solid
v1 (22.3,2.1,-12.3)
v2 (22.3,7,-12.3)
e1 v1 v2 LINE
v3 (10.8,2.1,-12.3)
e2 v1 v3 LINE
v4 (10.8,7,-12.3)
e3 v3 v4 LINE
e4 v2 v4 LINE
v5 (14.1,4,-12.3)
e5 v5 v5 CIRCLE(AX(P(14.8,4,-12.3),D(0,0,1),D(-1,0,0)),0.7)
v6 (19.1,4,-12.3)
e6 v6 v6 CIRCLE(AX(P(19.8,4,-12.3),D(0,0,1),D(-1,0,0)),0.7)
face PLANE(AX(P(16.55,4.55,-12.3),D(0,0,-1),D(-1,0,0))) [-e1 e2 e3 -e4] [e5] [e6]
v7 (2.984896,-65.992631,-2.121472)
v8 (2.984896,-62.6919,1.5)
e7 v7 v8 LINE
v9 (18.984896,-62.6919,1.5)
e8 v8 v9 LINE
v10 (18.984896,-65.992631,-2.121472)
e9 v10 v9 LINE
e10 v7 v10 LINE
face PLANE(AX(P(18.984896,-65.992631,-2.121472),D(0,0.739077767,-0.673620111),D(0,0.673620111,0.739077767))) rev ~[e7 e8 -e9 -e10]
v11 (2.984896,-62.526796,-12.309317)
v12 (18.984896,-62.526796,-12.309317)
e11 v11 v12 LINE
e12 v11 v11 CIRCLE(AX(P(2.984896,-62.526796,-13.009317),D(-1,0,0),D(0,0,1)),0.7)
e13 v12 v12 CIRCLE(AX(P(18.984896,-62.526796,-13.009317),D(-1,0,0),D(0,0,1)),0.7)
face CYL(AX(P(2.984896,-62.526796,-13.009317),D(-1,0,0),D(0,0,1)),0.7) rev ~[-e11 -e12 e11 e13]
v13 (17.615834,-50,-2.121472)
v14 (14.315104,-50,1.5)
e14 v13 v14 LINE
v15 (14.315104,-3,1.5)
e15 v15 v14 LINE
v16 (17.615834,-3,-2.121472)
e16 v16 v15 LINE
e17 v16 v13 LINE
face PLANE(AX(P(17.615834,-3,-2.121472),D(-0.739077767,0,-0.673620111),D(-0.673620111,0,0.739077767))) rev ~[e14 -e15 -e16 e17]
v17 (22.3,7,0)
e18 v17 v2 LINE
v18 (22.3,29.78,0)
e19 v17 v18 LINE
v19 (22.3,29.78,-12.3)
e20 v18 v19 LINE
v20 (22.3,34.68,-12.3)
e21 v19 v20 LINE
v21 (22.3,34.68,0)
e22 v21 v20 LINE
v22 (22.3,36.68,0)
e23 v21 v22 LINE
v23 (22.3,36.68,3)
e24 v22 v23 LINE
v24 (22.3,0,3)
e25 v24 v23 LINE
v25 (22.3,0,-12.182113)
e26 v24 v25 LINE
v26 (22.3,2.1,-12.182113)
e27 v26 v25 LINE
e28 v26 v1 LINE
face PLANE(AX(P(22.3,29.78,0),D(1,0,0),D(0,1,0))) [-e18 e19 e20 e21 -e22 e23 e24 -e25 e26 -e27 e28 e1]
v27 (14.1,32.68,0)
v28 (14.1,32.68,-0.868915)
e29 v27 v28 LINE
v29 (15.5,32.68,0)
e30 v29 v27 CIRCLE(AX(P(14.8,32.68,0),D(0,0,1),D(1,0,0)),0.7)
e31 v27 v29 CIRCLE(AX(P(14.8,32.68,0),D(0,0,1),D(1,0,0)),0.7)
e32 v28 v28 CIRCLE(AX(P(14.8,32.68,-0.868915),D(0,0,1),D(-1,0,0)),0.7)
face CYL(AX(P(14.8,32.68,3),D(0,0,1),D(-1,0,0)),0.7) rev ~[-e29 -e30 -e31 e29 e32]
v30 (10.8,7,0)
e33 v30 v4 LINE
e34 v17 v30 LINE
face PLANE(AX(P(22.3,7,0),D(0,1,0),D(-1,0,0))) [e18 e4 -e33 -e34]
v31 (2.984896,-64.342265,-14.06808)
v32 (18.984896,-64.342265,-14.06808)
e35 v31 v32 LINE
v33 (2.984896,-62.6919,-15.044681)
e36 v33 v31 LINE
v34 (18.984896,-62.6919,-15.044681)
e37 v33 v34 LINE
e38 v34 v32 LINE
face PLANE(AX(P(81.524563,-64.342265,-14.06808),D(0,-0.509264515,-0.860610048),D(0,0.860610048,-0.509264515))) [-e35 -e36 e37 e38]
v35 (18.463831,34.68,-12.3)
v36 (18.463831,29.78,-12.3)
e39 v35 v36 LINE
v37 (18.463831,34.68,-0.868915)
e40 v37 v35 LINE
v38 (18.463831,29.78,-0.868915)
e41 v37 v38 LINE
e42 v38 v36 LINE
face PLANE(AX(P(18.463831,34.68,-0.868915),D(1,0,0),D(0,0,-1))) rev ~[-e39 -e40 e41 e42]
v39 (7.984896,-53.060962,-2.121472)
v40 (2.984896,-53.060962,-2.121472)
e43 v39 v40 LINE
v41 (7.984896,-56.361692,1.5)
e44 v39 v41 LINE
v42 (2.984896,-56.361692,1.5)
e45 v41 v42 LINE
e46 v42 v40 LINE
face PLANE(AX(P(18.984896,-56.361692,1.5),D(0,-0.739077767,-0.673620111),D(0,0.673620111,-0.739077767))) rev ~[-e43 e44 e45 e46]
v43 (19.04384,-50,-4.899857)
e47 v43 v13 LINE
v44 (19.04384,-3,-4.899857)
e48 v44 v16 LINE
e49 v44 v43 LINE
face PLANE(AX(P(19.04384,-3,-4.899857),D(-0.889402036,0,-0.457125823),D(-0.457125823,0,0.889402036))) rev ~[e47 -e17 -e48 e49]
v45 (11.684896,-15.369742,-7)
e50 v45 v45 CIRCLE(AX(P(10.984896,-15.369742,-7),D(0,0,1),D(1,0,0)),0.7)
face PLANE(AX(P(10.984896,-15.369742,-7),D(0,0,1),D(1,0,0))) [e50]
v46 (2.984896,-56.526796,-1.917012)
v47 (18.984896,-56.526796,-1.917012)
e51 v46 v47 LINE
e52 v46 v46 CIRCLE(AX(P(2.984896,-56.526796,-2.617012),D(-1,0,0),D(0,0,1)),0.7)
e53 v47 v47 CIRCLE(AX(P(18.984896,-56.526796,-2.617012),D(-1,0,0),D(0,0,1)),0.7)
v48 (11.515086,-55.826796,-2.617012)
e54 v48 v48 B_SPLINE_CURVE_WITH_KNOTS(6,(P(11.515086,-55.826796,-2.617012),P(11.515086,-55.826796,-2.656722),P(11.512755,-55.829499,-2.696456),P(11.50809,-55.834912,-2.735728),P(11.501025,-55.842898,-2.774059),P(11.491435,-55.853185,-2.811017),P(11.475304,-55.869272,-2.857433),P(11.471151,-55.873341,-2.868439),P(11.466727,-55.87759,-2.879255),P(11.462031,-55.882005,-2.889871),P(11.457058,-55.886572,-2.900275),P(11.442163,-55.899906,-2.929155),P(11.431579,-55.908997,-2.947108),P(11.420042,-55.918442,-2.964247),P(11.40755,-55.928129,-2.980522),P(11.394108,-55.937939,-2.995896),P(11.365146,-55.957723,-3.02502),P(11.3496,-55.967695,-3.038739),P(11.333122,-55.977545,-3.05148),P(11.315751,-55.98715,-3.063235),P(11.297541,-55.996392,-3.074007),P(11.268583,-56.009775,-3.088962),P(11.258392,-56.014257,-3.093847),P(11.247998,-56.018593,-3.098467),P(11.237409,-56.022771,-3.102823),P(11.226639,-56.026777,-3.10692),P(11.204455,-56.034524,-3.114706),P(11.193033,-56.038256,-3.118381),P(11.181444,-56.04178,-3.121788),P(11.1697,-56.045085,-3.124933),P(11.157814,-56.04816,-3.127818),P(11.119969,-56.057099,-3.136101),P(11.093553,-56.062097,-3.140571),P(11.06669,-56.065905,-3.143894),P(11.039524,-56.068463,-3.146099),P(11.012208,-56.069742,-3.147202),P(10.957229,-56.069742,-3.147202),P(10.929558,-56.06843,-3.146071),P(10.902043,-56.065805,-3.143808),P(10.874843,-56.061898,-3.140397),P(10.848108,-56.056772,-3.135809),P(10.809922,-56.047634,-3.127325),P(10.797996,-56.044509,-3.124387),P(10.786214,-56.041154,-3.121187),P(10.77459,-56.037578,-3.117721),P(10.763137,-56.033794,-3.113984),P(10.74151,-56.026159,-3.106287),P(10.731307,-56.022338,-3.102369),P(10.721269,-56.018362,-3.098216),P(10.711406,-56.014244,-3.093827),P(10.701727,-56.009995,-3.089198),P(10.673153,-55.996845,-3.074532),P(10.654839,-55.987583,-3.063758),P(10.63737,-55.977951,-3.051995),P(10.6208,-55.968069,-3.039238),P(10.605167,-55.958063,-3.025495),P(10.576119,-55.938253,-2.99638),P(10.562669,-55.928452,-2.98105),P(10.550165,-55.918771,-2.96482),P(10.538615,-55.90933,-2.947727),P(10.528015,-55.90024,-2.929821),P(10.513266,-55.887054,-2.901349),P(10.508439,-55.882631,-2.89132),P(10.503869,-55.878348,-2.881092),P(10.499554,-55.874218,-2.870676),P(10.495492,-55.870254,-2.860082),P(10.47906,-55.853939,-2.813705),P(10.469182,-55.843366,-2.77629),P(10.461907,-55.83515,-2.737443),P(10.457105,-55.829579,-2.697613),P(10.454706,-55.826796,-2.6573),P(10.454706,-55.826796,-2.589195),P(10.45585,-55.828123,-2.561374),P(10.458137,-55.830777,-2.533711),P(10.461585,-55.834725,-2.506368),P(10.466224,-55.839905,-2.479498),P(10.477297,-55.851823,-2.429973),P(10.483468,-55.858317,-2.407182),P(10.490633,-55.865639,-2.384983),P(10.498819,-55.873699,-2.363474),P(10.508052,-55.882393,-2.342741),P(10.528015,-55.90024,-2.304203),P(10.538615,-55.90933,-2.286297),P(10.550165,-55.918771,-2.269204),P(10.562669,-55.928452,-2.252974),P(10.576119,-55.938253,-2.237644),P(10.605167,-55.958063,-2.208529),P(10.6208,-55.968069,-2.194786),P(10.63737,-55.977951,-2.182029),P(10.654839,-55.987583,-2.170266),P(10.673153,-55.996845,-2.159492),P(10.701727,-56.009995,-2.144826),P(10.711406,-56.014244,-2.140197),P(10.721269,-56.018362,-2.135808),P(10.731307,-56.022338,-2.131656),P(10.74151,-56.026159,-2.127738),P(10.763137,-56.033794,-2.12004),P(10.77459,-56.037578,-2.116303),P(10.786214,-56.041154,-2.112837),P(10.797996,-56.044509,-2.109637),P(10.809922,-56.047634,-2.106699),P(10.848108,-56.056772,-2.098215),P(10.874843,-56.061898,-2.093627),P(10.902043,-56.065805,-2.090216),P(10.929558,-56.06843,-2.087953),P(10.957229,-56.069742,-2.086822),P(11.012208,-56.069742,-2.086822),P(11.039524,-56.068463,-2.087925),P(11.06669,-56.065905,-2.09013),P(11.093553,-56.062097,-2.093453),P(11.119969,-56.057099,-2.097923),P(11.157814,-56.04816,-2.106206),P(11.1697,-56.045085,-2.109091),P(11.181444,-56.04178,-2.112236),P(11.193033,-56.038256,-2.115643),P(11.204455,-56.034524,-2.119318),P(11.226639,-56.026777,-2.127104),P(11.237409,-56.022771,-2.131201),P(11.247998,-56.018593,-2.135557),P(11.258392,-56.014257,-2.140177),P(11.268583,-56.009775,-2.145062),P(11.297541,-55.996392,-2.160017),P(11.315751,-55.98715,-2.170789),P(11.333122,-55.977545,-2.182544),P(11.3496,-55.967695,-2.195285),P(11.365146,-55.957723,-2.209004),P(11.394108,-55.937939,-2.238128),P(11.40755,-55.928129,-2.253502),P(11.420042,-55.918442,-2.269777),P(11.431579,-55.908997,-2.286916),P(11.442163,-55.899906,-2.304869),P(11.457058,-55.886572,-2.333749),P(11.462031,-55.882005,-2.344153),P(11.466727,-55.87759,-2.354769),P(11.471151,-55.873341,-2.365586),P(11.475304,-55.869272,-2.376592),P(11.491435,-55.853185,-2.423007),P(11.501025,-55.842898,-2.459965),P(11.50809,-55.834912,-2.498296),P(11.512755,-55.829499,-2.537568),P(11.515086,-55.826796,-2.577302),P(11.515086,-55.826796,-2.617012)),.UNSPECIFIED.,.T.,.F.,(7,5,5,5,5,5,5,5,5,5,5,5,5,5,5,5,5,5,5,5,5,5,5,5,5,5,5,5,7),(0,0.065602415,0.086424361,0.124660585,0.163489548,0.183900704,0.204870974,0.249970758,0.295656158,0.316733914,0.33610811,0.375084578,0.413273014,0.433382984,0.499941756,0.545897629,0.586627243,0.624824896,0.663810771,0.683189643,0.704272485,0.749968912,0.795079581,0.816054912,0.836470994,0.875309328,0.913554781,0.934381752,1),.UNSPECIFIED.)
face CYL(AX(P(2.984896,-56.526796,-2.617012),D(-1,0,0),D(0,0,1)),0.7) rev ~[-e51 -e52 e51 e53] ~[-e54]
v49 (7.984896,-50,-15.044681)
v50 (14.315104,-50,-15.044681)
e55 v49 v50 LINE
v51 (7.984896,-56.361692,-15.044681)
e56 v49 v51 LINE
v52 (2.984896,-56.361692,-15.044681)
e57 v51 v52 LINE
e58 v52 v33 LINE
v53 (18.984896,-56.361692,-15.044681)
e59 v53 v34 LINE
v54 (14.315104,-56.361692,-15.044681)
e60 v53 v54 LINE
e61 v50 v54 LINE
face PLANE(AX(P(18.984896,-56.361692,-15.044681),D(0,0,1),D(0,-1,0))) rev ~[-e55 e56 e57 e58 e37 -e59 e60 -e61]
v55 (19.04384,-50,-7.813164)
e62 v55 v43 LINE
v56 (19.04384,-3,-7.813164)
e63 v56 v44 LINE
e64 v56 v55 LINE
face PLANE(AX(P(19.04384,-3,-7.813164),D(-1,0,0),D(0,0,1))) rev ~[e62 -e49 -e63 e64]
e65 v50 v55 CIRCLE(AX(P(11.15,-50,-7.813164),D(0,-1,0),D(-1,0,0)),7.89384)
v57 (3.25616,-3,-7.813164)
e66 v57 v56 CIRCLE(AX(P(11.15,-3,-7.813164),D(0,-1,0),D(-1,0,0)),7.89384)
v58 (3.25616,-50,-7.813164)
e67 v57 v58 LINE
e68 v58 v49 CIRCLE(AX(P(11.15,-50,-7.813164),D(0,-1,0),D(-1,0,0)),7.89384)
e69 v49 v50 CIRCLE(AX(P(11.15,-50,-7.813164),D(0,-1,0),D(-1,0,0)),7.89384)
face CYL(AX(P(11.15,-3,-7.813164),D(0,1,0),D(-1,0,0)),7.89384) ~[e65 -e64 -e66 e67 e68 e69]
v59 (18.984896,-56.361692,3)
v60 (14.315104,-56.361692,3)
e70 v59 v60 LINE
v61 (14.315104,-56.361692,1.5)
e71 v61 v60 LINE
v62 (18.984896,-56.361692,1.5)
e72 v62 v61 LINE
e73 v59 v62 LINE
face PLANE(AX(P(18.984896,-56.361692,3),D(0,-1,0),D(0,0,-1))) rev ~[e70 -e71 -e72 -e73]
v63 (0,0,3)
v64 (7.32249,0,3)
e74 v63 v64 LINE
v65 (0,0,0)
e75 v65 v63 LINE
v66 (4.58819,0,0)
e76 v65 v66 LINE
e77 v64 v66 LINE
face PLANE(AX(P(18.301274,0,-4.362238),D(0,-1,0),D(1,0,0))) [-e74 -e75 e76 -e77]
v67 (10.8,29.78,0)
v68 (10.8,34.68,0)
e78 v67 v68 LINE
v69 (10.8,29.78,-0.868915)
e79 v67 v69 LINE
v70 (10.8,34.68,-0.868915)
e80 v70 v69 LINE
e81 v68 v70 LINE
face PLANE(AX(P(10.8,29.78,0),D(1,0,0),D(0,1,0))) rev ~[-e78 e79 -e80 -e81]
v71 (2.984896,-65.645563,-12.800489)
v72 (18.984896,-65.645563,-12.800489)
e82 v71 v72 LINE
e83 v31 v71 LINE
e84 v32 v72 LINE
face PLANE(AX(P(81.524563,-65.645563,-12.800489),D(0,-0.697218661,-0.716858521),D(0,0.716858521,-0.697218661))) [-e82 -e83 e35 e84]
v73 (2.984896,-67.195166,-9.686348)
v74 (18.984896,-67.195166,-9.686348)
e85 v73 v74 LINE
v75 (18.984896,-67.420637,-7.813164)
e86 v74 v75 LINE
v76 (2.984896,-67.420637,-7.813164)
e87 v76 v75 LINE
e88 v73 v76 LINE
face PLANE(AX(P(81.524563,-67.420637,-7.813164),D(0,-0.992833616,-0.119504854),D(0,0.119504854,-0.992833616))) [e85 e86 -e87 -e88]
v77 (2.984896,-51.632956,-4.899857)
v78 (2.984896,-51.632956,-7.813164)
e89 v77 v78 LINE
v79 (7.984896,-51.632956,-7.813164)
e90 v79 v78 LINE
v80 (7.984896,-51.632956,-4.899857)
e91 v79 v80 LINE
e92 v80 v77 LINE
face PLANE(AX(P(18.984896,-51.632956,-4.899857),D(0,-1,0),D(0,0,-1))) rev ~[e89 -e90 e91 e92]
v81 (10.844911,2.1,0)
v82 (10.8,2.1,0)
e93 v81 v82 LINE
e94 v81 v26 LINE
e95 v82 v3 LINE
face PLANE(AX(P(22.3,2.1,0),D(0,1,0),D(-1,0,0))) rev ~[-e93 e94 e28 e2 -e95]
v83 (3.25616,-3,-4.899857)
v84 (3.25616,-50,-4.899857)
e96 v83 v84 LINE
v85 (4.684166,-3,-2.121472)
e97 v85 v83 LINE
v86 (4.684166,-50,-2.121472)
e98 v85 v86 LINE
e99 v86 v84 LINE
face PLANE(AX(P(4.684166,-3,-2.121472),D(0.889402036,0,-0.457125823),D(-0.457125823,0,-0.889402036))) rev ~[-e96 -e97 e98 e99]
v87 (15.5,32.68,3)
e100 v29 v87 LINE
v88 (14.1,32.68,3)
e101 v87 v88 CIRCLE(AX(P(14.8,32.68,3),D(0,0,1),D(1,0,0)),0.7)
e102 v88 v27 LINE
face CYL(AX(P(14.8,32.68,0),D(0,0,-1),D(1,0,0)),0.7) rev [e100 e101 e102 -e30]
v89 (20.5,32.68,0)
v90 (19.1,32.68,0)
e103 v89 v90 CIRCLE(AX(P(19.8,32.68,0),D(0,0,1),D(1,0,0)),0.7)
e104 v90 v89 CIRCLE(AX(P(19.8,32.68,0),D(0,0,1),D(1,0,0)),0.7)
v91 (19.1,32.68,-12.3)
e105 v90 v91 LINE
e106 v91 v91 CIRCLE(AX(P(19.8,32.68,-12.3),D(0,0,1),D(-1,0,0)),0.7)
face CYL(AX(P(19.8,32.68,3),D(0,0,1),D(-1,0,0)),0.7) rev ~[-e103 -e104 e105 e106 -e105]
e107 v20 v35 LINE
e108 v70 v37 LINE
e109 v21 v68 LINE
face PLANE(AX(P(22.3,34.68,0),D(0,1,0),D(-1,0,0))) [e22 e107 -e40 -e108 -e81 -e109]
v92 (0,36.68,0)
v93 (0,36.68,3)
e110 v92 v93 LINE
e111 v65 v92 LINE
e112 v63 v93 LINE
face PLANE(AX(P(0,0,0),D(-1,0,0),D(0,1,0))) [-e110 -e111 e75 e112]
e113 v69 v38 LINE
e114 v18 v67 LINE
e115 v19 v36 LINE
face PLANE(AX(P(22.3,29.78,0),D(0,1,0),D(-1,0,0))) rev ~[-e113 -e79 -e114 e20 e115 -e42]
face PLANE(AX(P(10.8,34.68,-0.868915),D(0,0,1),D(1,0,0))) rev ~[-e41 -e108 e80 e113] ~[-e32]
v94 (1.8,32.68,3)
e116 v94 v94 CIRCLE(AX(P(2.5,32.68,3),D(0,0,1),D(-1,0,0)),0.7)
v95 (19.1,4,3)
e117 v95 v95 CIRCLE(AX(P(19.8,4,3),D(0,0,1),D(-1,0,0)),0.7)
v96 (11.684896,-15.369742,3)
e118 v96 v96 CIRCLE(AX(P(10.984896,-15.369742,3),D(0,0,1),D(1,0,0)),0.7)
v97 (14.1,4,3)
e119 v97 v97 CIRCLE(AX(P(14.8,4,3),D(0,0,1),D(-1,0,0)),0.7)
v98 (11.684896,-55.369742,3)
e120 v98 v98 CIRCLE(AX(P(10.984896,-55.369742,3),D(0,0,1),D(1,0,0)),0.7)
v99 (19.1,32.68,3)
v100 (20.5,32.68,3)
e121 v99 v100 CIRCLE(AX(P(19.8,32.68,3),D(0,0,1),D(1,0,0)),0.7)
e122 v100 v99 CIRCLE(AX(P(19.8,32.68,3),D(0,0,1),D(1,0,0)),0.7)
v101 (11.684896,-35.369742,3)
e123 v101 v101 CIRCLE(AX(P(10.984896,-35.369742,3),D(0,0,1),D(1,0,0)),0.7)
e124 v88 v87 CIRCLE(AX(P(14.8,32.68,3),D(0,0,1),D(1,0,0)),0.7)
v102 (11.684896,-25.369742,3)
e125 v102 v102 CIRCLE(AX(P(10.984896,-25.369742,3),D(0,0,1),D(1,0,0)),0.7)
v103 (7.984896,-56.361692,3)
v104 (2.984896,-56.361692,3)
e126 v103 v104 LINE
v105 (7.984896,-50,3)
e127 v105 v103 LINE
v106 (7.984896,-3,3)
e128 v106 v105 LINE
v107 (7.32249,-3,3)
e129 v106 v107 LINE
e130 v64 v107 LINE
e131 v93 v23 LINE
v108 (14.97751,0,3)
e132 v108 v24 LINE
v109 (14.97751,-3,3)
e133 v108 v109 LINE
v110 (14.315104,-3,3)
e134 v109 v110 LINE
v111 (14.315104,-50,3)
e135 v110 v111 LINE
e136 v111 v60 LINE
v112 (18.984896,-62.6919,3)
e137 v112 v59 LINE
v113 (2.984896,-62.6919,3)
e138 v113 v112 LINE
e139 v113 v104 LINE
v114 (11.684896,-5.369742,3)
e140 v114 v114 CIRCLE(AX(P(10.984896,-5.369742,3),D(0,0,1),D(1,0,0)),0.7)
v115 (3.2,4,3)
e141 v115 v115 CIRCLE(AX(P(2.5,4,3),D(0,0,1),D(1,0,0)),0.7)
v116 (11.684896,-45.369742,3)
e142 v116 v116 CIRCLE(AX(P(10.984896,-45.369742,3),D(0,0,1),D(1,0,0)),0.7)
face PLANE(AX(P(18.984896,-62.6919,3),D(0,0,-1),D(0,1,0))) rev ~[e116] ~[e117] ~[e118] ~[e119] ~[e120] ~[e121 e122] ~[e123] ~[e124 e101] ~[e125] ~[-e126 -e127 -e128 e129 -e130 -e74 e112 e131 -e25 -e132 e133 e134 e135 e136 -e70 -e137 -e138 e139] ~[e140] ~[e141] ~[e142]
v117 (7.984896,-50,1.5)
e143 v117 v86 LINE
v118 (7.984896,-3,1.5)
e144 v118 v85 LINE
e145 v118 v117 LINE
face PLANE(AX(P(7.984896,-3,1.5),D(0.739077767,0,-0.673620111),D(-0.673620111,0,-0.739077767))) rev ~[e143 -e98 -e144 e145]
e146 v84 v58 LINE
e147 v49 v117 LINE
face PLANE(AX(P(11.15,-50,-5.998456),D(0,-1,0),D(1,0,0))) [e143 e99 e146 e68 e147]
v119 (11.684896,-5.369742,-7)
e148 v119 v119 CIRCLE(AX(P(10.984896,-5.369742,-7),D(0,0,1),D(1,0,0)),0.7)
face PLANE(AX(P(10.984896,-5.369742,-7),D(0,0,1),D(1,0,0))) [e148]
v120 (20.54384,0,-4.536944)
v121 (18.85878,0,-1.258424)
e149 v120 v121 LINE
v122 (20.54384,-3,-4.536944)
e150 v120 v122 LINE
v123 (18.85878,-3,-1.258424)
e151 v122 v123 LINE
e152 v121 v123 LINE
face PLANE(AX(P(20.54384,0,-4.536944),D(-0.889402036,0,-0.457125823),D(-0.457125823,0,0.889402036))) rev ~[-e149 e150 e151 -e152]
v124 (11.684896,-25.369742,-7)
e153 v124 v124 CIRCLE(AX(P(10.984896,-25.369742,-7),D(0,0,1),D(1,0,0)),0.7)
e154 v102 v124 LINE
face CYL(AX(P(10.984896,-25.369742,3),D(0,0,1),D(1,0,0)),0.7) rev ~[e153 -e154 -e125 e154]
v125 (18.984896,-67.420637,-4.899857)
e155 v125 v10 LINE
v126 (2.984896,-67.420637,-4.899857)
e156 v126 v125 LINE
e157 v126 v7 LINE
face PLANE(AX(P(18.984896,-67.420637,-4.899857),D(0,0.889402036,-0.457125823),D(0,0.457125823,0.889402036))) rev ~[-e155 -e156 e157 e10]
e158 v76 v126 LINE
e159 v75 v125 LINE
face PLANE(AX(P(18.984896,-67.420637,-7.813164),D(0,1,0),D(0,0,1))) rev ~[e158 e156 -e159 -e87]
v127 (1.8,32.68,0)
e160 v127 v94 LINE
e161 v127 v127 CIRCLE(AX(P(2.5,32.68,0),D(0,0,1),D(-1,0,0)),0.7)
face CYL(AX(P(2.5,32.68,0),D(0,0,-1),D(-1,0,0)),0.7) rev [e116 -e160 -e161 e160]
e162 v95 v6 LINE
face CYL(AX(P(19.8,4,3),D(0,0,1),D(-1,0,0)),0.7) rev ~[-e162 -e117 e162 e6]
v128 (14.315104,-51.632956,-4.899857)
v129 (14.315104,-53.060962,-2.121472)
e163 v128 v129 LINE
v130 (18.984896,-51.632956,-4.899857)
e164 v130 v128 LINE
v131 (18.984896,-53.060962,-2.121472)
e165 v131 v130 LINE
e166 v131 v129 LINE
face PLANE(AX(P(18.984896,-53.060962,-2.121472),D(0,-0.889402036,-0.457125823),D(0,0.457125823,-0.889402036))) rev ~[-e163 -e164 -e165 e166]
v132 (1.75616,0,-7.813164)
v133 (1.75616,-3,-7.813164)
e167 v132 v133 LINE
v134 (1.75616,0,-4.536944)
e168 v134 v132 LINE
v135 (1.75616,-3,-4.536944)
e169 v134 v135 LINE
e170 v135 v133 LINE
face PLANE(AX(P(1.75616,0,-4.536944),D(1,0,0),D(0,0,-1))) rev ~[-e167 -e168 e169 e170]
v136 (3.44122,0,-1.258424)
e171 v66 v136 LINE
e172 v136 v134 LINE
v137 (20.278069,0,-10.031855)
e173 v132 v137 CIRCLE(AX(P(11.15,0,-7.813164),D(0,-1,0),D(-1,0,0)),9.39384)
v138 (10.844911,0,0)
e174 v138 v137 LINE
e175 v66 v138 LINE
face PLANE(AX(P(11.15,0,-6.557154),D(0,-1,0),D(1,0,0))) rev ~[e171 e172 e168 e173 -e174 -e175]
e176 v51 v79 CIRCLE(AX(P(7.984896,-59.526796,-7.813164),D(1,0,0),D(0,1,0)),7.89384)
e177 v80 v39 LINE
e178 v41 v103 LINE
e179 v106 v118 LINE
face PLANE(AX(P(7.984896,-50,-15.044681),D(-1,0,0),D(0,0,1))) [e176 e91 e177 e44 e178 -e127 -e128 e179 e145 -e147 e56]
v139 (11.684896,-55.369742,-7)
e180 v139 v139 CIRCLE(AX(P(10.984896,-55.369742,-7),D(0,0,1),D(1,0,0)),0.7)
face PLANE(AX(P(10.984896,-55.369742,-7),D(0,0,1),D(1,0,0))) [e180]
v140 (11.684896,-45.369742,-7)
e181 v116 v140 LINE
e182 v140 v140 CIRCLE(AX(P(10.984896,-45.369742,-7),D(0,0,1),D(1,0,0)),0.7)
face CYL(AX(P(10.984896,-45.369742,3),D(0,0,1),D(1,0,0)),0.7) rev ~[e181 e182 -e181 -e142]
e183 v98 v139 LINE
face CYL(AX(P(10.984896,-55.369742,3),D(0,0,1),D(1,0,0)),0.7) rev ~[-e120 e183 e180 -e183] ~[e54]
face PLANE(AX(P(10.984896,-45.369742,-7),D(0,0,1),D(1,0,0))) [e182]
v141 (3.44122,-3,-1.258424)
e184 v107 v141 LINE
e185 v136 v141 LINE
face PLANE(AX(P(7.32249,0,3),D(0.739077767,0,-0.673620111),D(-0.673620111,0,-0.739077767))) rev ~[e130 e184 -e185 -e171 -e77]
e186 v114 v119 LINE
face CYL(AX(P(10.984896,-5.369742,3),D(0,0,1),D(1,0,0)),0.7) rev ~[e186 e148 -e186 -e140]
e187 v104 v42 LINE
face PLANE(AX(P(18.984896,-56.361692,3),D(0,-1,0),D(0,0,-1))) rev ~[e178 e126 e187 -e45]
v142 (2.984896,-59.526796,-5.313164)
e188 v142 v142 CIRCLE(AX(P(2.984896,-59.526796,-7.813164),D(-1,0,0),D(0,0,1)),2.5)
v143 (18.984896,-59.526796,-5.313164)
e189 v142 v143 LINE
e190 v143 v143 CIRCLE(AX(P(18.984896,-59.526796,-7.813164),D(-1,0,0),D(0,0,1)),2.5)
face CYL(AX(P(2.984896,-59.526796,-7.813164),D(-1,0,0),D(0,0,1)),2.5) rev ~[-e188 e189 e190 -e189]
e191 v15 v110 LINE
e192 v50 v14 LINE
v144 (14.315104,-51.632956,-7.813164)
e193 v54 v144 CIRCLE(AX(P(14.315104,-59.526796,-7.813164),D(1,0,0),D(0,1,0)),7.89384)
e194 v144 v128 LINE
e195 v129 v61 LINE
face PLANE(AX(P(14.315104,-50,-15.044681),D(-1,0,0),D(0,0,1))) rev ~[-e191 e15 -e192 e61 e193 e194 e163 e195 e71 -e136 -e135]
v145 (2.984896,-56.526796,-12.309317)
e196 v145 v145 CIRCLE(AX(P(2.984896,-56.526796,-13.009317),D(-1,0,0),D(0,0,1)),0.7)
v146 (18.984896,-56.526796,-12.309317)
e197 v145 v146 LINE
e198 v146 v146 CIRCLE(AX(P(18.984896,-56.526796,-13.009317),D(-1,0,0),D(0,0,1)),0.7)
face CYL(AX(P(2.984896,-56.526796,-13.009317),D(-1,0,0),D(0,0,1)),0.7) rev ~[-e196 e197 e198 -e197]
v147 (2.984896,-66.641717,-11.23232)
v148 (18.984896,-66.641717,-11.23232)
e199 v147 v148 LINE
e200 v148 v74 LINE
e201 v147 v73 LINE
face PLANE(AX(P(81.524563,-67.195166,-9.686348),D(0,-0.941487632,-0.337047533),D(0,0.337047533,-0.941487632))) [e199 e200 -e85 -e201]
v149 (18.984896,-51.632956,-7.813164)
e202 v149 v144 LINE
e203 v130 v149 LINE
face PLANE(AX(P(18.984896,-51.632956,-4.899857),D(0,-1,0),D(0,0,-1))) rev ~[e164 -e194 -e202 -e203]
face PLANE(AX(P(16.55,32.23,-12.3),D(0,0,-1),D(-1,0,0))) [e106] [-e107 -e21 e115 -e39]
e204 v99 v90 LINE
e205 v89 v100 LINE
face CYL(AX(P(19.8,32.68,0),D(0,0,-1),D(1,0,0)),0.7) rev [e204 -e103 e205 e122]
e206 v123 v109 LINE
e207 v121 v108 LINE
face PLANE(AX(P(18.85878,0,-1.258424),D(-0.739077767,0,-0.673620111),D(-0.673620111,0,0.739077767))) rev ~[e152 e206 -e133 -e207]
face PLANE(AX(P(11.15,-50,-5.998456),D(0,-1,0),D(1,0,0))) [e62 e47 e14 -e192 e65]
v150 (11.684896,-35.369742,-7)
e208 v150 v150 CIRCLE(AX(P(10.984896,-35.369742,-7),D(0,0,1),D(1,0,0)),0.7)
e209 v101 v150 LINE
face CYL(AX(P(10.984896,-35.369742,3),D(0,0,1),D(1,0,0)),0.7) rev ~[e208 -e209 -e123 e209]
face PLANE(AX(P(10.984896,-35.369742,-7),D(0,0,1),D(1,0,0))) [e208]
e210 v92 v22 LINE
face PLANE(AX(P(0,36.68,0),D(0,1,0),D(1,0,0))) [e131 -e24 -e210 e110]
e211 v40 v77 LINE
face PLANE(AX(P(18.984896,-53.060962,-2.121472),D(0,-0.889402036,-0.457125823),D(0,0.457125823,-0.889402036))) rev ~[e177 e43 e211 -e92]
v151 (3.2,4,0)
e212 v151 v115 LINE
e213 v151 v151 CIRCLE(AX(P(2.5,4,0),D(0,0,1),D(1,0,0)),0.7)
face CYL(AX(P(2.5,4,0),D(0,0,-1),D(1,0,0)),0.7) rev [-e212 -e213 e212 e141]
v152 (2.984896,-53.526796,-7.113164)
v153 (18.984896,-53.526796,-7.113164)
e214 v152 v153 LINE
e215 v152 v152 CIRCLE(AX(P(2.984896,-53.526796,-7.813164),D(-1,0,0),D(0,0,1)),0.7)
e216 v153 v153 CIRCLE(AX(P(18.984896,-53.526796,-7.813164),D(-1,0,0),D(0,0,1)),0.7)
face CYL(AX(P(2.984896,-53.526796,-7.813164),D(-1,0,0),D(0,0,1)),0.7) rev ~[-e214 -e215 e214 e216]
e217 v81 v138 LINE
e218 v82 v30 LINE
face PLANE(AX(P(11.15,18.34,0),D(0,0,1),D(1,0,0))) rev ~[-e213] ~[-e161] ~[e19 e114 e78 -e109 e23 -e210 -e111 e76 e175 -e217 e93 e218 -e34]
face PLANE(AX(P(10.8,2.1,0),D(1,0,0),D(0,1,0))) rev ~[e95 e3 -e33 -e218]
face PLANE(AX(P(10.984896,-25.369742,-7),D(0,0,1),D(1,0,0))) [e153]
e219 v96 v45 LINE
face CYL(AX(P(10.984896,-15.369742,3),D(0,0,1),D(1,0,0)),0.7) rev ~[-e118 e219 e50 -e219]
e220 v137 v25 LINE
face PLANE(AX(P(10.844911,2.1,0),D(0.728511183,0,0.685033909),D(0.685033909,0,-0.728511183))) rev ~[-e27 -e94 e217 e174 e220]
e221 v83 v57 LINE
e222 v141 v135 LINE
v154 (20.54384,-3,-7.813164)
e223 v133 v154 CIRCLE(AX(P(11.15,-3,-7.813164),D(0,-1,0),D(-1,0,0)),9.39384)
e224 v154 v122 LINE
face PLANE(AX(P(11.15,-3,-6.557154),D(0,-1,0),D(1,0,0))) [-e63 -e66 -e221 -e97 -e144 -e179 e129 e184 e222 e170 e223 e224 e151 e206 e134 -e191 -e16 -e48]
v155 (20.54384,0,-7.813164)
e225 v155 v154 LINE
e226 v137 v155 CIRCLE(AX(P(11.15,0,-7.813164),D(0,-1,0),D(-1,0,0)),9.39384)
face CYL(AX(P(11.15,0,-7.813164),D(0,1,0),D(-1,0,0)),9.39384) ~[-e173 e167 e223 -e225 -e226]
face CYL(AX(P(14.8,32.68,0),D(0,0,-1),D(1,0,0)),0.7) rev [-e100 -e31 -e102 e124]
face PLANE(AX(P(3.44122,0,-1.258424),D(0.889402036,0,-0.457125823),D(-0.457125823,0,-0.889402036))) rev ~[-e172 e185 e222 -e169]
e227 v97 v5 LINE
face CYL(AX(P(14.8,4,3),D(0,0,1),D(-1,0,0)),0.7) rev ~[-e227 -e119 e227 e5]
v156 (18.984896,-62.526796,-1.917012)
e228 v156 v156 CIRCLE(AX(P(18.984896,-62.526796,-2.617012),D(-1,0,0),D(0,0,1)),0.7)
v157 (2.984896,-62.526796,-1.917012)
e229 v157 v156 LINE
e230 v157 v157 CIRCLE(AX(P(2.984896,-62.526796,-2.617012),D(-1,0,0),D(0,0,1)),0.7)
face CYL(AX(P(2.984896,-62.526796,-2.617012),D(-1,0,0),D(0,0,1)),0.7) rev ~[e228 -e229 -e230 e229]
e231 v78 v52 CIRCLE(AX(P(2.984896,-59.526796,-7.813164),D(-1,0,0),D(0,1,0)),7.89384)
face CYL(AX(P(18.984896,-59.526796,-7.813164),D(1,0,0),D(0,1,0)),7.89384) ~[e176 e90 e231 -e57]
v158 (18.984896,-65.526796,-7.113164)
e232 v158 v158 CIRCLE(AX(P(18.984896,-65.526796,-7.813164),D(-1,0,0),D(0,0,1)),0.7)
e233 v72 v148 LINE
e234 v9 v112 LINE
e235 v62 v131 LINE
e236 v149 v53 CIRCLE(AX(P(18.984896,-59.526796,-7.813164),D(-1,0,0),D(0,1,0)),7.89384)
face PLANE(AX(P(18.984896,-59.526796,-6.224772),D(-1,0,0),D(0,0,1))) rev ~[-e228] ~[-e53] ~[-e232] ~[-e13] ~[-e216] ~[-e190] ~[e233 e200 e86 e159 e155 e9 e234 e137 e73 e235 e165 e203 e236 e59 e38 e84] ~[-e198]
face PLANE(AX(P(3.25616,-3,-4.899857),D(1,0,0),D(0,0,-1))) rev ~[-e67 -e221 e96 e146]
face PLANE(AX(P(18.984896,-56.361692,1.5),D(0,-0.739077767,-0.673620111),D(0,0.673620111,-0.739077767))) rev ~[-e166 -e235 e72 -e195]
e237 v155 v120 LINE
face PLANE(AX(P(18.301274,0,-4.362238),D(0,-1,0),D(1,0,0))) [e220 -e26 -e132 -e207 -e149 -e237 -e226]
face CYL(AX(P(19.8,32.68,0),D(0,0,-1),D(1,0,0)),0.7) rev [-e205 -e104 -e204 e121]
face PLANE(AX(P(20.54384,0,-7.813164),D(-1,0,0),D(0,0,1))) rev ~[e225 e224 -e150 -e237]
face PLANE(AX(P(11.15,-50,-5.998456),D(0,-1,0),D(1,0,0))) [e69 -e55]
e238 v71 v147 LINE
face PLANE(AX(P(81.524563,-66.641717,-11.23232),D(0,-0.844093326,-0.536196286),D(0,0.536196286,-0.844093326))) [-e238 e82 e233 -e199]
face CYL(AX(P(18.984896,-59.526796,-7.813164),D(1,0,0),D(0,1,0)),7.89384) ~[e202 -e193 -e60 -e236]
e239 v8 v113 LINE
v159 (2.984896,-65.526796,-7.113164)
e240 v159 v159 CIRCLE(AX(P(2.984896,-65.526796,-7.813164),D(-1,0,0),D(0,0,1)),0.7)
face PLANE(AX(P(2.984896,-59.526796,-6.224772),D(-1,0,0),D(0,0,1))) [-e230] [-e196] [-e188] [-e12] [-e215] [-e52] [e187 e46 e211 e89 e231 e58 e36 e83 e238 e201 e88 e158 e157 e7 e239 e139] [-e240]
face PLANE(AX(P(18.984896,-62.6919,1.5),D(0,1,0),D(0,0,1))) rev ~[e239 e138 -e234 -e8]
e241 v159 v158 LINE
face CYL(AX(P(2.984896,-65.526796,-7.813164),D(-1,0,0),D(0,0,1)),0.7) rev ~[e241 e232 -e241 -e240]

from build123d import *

# Parameters (mm, degrees)
ESQUISSE1_W                  = 22.3
ESQUISSE1_H                  = 36.68
ESQUISSE1_R                  = 0.7
BOSS_EXTRU_1_DEPTH           = 3
ESQUISSE2_W                  = 11.5
ESQUISSE2_H                  = 4.9
BOSS_EXTRU_2_DEPTH           = 12.3
ESQUISSE3_R                  = 0.7
ENL_V_MAT_EXTRU_1_DEPTH      = 46.571947512
BOSS_EXTRU_3_DEPTH           = 2.1
BOSS_EXTRU_4_DEPTH           = 3
BOSS_EXTRU_5_DEPTH           = 47
ESQUISSE9_W                  = 6.330208048
ESQUISSE9_H                  = 18.044681103
BOSS_EXTRU_6_DEPTH           = 19
BOSS_EXTRU_7_DEPTH           = 5
BOSS_EXTRU_7_DEPTH_BACK      = 11
ENL_V_MAT_EXTRU_3_DEPTH      = 73.539666527
ENL_V_MAT_EXTRU_3_DEPTH_BACK = 73.539666527
ESQUISSE13_R                 = 0.7
ENL_V_MAT_EXTRU_4_DEPTH      = 10
ESQUISSE15_R                 = 2.5
ESQUISSE15_R_2               = 0.7
ENL_V_MAT_EXTRU_5_DEPTH      = 73.212855517
ESQUISSE16_W                 = 11.5
ESQUISSE16_H                 = 4.9
BOSS_EXTRU_8_DEPTH           = 12.3
ESQUISSE17_R                 = 0.7
ENL_V_MAT_EXTRU_6_DEPTH      = 74.831939482
ESQUISSE18_W                 = 7.663831116
ESQUISSE18_H                 = 11.431085426
ENL_V_MAT_EXTRU_7_DEPTH      = 6.3


with BuildPart() as part:
    # Esquisse1 → Boss.-Extru.1 (new body)
    with BuildSketch(Plane.XY):
        with Locations((11.15, 18.34)):
            Rectangle(ESQUISSE1_W, ESQUISSE1_H)
        with Locations((19.8, 32.68)):
            Circle(ESQUISSE1_R, mode=Mode.SUBTRACT)
        with Locations(Location((2.5, 32.68, 0), (0, 0, 180))):
            Circle(ESQUISSE1_R, mode=Mode.SUBTRACT)
        with Locations((2.5, 4)):
            Circle(ESQUISSE1_R, mode=Mode.SUBTRACT)
        with Locations(Location((19.8, 4, 0), (0, 0, 180))):
            Circle(ESQUISSE1_R, mode=Mode.SUBTRACT)
        with Locations((14.8, 32.68)):
            Circle(ESQUISSE1_R, mode=Mode.SUBTRACT)
        with Locations(Location((14.8, 4, 0), (0, 0, 180))):
            Circle(ESQUISSE1_R, mode=Mode.SUBTRACT)
    extrude(amount=BOSS_EXTRU_1_DEPTH)

    # Esquisse2 → Boss.-Extru.2 (add)
    with BuildSketch(Plane(origin=(0, 0, 0), x_dir=(-1, 0, 0), z_dir=(0, 0, -1))):
        with Locations((-16.55, 4.55)):
            Rectangle(ESQUISSE2_W, ESQUISSE2_H)
    extrude(amount=BOSS_EXTRU_2_DEPTH)

    # Esquisse3 → Enlèv. mat.-Extru.1 (cut, through all)
    with BuildSketch(Plane.XY.offset(3)):
        with Locations((14.8, 32.68)):
            Circle(ESQUISSE3_R)
        with Locations((19.8, 32.68)):
            Circle(ESQUISSE3_R)
        with Locations(Location((14.8, 4, 0), (0, 0, 180))):
            Circle(ESQUISSE3_R)
        with Locations(Location((19.8, 4, 0), (0, 0, 180))):
            Circle(ESQUISSE3_R)
    extrude(amount=-ENL_V_MAT_EXTRU_1_DEPTH, mode=Mode.SUBTRACT)

    # Esquisse4 → Boss.-Extru.3 (add)
    with BuildSketch(Plane.XZ.offset(-2.1)):
        Polygon((22.3, 0), (10.844911365, 0), (22.3, -12.182112526), align=None)
    extrude(amount=BOSS_EXTRU_3_DEPTH)

    # Esquisse6 → Boss.-Extru.4 (add)
    with BuildSketch(Plane.XZ):
        with BuildLine():
            Line((14.977510411, 3), (7.322489589, 3))
            Line((7.322489589, 3), (3.441219786, -1.258424259))
            Line((3.441219786, -1.258424259), (1.756159604, -4.536943828))
            Line((1.756159604, -4.536943828), (1.756159604, -7.813164477))
            ThreePointArc((1.756159604, -7.813164477), (11.15, -17.207004873), (20.543840396, -7.813164477))
            Line((20.543840396, -7.813164477), (20.543840396, -4.536943828))
            Line((20.543840396, -4.536943828), (18.858780214, -1.258424259))
            Line((18.858780214, -1.258424259), (14.977510411, 3))
        make_face()
    extrude(amount=BOSS_EXTRU_4_DEPTH)

    # Esquisse8 → Boss.-Extru.5 (add)
    with BuildSketch(Plane.XZ.offset(3)):
        with BuildLine():
            Line((7.984895976, 1.5), (4.684165618, -2.12147208))
            Line((4.684165618, -2.12147208), (3.256159604, -4.89985692))
            Line((3.256159604, -4.89985692), (3.256159604, -7.813164477))
            ThreePointArc((3.256159604, -7.813164477), (11.15, -15.707004873), (19.043840396, -7.813164477))
            Line((19.043840396, -7.813164477), (19.043840396, -4.89985692))
            Line((19.043840396, -4.89985692), (17.615834382, -2.12147208))
            Line((17.615834382, -2.12147208), (14.315104024, 1.5))
            Line((14.315104024, 1.5), (14.315104024, 3))
            Line((14.315104024, 3), (7.984895976, 3))
            Line((7.984895976, 3), (7.984895976, 1.5))
        make_face()
    extrude(amount=BOSS_EXTRU_5_DEPTH)

    # Esquisse9 → Boss.-Extru.6 (add)
    with BuildSketch(Plane.XZ.offset(50)):
        with Locations((11.15, -6.022340552)):
            Rectangle(ESQUISSE9_W, ESQUISSE9_H)
    extrude(amount=BOSS_EXTRU_6_DEPTH)

    # Esquisse10 → Boss.-Extru.7 (add, two sides: drawn at the far end of the back side and taken through both)
    with BuildSketch(Plane.ZY.offset(-7.984895976).offset(-BOSS_EXTRU_7_DEPTH_BACK)):
        with BuildLine():
            Line((3, -62.691900244), (3, -56.361692197))
            Line((3, -56.361692197), (1.5, -56.361692197))
            Line((1.5, -56.361692197), (-2.12147208, -53.060961839))
            Line((-2.12147208, -53.060961839), (-4.89985692, -51.632955825))
            Line((-4.89985692, -51.632955825), (-7.813164477, -51.632955825))
            ThreePointArc((-7.813164477, -51.632955825), (-12.133343304, -52.92007456), (-15.044681103, -56.361692197))
            Line((-15.044681103, -56.361692197), (-15.044681103, -62.691900244))
            ThreePointArc((-15.044681103, -62.691900244), (-12.133343304, -66.133517881), (-7.813164477, -67.420636616))
            Line((-7.813164477, -67.420636616), (-4.89985692, -67.420636616))
            Line((-4.89985692, -67.420636616), (-2.12147208, -65.992630602))
            Line((-2.12147208, -65.992630602), (1.5, -62.691900244))
            Line((1.5, -62.691900244), (3, -62.691900244))
        make_face()
    extrude(amount=BOSS_EXTRU_7_DEPTH + BOSS_EXTRU_7_DEPTH_BACK)

    # Esquisse12 → Enlèv. mat.-Extru.3 (cut, two sides: drawn at the far end of the back side and taken through both)
    with BuildSketch(Plane.ZY.offset(-7.984895976).offset(-ENL_V_MAT_EXTRU_3_DEPTH_BACK)):
        Polygon((-15.044681103, -62.691900244), (-15.044681103, -69), (3, -69), (3, -62.691900244), (1.5, -62.691900244), (-2.12147208, -65.992630602), (-4.89985692, -67.420636616), (-7.813164477, -67.420636616), (-9.686348115, -67.195166272), (-11.232319732, -66.641716708), (-12.800489495, -65.645562875), (-14.068080348, -64.342265423), align=None)
    extrude(amount=ENL_V_MAT_EXTRU_3_DEPTH + ENL_V_MAT_EXTRU_3_DEPTH_BACK, mode=Mode.SUBTRACT)

    # Esquisse13 → Enlèv. mat.-Extru.4 (cut)
    with BuildSketch(Plane.XY.offset(3)):
        with Locations((10.984895976, -5.369741895)):
            Circle(ESQUISSE13_R)
        with Locations((10.984895976, -15.369741895)):
            Circle(ESQUISSE13_R)
        with Locations((10.984895976, -25.369741895)):
            Circle(ESQUISSE13_R)
        with Locations((10.984895976, -35.369741895)):
            Circle(ESQUISSE13_R)
        with Locations((10.984895976, -45.369741895)):
            Circle(ESQUISSE13_R)
        with Locations((10.984895976, -55.369741895)):
            Circle(ESQUISSE13_R)
    extrude(amount=-ENL_V_MAT_EXTRU_4_DEPTH, mode=Mode.SUBTRACT)

    # Esquisse15 → Enlèv. mat.-Extru.5 (cut, through all)
    with BuildSketch(Plane.ZY.offset(-2.984895976)):
        with Locations((-7.813164477, -59.526796221)):
            Circle(ESQUISSE15_R)
        with Locations((-7.813164477, -53.526796221)):
            Circle(ESQUISSE15_R_2)
        with Locations((-2.617012055, -56.526796221)):
            Circle(ESQUISSE15_R_2)
        with Locations((-2.617012055, -62.526796221)):
            Circle(ESQUISSE15_R_2)
        with Locations((-7.813164477, -65.526796221)):
            Circle(ESQUISSE15_R_2)
        with Locations((-13.0093169, -62.526796221)):
            Circle(ESQUISSE15_R_2)
        with Locations((-13.0093169, -56.526796221)):
            Circle(ESQUISSE15_R_2)
    extrude(amount=-ENL_V_MAT_EXTRU_5_DEPTH, mode=Mode.SUBTRACT)

    # Esquisse16 → Boss.-Extru.8 (add)
    with BuildSketch(Plane(origin=(0, 0, 0), x_dir=(-1, 0, 0), z_dir=(0, 0, -1))):
        with Locations((-16.55, 32.23)):
            Rectangle(ESQUISSE16_W, ESQUISSE16_H)
    extrude(amount=BOSS_EXTRU_8_DEPTH)

    # Esquisse17 → Enlèv. mat.-Extru.6 (cut, through all)
    with BuildSketch(Plane.XY.offset(3)):
        with Locations(Location((14.8, 32.68, 0), (0, 0, 180))):
            Circle(ESQUISSE17_R)
        with Locations(Location((19.8, 32.68, 0), (0, 0, 180))):
            Circle(ESQUISSE17_R)
    extrude(amount=-ENL_V_MAT_EXTRU_6_DEPTH, mode=Mode.SUBTRACT)

    # Esquisse18 → Enlèv. mat.-Extru.7 (cut)
    with BuildSketch(Plane(origin=(0, 34.68, 0), x_dir=(1, 0, 0), z_dir=(0, 1, 0))):
        with Locations((14.631915558, 6.584457287)):
            Rectangle(ESQUISSE18_W, ESQUISSE18_H)
    extrude(amount=-ENL_V_MAT_EXTRU_7_DEPTH, mode=Mode.SUBTRACT)


solid = part.part
